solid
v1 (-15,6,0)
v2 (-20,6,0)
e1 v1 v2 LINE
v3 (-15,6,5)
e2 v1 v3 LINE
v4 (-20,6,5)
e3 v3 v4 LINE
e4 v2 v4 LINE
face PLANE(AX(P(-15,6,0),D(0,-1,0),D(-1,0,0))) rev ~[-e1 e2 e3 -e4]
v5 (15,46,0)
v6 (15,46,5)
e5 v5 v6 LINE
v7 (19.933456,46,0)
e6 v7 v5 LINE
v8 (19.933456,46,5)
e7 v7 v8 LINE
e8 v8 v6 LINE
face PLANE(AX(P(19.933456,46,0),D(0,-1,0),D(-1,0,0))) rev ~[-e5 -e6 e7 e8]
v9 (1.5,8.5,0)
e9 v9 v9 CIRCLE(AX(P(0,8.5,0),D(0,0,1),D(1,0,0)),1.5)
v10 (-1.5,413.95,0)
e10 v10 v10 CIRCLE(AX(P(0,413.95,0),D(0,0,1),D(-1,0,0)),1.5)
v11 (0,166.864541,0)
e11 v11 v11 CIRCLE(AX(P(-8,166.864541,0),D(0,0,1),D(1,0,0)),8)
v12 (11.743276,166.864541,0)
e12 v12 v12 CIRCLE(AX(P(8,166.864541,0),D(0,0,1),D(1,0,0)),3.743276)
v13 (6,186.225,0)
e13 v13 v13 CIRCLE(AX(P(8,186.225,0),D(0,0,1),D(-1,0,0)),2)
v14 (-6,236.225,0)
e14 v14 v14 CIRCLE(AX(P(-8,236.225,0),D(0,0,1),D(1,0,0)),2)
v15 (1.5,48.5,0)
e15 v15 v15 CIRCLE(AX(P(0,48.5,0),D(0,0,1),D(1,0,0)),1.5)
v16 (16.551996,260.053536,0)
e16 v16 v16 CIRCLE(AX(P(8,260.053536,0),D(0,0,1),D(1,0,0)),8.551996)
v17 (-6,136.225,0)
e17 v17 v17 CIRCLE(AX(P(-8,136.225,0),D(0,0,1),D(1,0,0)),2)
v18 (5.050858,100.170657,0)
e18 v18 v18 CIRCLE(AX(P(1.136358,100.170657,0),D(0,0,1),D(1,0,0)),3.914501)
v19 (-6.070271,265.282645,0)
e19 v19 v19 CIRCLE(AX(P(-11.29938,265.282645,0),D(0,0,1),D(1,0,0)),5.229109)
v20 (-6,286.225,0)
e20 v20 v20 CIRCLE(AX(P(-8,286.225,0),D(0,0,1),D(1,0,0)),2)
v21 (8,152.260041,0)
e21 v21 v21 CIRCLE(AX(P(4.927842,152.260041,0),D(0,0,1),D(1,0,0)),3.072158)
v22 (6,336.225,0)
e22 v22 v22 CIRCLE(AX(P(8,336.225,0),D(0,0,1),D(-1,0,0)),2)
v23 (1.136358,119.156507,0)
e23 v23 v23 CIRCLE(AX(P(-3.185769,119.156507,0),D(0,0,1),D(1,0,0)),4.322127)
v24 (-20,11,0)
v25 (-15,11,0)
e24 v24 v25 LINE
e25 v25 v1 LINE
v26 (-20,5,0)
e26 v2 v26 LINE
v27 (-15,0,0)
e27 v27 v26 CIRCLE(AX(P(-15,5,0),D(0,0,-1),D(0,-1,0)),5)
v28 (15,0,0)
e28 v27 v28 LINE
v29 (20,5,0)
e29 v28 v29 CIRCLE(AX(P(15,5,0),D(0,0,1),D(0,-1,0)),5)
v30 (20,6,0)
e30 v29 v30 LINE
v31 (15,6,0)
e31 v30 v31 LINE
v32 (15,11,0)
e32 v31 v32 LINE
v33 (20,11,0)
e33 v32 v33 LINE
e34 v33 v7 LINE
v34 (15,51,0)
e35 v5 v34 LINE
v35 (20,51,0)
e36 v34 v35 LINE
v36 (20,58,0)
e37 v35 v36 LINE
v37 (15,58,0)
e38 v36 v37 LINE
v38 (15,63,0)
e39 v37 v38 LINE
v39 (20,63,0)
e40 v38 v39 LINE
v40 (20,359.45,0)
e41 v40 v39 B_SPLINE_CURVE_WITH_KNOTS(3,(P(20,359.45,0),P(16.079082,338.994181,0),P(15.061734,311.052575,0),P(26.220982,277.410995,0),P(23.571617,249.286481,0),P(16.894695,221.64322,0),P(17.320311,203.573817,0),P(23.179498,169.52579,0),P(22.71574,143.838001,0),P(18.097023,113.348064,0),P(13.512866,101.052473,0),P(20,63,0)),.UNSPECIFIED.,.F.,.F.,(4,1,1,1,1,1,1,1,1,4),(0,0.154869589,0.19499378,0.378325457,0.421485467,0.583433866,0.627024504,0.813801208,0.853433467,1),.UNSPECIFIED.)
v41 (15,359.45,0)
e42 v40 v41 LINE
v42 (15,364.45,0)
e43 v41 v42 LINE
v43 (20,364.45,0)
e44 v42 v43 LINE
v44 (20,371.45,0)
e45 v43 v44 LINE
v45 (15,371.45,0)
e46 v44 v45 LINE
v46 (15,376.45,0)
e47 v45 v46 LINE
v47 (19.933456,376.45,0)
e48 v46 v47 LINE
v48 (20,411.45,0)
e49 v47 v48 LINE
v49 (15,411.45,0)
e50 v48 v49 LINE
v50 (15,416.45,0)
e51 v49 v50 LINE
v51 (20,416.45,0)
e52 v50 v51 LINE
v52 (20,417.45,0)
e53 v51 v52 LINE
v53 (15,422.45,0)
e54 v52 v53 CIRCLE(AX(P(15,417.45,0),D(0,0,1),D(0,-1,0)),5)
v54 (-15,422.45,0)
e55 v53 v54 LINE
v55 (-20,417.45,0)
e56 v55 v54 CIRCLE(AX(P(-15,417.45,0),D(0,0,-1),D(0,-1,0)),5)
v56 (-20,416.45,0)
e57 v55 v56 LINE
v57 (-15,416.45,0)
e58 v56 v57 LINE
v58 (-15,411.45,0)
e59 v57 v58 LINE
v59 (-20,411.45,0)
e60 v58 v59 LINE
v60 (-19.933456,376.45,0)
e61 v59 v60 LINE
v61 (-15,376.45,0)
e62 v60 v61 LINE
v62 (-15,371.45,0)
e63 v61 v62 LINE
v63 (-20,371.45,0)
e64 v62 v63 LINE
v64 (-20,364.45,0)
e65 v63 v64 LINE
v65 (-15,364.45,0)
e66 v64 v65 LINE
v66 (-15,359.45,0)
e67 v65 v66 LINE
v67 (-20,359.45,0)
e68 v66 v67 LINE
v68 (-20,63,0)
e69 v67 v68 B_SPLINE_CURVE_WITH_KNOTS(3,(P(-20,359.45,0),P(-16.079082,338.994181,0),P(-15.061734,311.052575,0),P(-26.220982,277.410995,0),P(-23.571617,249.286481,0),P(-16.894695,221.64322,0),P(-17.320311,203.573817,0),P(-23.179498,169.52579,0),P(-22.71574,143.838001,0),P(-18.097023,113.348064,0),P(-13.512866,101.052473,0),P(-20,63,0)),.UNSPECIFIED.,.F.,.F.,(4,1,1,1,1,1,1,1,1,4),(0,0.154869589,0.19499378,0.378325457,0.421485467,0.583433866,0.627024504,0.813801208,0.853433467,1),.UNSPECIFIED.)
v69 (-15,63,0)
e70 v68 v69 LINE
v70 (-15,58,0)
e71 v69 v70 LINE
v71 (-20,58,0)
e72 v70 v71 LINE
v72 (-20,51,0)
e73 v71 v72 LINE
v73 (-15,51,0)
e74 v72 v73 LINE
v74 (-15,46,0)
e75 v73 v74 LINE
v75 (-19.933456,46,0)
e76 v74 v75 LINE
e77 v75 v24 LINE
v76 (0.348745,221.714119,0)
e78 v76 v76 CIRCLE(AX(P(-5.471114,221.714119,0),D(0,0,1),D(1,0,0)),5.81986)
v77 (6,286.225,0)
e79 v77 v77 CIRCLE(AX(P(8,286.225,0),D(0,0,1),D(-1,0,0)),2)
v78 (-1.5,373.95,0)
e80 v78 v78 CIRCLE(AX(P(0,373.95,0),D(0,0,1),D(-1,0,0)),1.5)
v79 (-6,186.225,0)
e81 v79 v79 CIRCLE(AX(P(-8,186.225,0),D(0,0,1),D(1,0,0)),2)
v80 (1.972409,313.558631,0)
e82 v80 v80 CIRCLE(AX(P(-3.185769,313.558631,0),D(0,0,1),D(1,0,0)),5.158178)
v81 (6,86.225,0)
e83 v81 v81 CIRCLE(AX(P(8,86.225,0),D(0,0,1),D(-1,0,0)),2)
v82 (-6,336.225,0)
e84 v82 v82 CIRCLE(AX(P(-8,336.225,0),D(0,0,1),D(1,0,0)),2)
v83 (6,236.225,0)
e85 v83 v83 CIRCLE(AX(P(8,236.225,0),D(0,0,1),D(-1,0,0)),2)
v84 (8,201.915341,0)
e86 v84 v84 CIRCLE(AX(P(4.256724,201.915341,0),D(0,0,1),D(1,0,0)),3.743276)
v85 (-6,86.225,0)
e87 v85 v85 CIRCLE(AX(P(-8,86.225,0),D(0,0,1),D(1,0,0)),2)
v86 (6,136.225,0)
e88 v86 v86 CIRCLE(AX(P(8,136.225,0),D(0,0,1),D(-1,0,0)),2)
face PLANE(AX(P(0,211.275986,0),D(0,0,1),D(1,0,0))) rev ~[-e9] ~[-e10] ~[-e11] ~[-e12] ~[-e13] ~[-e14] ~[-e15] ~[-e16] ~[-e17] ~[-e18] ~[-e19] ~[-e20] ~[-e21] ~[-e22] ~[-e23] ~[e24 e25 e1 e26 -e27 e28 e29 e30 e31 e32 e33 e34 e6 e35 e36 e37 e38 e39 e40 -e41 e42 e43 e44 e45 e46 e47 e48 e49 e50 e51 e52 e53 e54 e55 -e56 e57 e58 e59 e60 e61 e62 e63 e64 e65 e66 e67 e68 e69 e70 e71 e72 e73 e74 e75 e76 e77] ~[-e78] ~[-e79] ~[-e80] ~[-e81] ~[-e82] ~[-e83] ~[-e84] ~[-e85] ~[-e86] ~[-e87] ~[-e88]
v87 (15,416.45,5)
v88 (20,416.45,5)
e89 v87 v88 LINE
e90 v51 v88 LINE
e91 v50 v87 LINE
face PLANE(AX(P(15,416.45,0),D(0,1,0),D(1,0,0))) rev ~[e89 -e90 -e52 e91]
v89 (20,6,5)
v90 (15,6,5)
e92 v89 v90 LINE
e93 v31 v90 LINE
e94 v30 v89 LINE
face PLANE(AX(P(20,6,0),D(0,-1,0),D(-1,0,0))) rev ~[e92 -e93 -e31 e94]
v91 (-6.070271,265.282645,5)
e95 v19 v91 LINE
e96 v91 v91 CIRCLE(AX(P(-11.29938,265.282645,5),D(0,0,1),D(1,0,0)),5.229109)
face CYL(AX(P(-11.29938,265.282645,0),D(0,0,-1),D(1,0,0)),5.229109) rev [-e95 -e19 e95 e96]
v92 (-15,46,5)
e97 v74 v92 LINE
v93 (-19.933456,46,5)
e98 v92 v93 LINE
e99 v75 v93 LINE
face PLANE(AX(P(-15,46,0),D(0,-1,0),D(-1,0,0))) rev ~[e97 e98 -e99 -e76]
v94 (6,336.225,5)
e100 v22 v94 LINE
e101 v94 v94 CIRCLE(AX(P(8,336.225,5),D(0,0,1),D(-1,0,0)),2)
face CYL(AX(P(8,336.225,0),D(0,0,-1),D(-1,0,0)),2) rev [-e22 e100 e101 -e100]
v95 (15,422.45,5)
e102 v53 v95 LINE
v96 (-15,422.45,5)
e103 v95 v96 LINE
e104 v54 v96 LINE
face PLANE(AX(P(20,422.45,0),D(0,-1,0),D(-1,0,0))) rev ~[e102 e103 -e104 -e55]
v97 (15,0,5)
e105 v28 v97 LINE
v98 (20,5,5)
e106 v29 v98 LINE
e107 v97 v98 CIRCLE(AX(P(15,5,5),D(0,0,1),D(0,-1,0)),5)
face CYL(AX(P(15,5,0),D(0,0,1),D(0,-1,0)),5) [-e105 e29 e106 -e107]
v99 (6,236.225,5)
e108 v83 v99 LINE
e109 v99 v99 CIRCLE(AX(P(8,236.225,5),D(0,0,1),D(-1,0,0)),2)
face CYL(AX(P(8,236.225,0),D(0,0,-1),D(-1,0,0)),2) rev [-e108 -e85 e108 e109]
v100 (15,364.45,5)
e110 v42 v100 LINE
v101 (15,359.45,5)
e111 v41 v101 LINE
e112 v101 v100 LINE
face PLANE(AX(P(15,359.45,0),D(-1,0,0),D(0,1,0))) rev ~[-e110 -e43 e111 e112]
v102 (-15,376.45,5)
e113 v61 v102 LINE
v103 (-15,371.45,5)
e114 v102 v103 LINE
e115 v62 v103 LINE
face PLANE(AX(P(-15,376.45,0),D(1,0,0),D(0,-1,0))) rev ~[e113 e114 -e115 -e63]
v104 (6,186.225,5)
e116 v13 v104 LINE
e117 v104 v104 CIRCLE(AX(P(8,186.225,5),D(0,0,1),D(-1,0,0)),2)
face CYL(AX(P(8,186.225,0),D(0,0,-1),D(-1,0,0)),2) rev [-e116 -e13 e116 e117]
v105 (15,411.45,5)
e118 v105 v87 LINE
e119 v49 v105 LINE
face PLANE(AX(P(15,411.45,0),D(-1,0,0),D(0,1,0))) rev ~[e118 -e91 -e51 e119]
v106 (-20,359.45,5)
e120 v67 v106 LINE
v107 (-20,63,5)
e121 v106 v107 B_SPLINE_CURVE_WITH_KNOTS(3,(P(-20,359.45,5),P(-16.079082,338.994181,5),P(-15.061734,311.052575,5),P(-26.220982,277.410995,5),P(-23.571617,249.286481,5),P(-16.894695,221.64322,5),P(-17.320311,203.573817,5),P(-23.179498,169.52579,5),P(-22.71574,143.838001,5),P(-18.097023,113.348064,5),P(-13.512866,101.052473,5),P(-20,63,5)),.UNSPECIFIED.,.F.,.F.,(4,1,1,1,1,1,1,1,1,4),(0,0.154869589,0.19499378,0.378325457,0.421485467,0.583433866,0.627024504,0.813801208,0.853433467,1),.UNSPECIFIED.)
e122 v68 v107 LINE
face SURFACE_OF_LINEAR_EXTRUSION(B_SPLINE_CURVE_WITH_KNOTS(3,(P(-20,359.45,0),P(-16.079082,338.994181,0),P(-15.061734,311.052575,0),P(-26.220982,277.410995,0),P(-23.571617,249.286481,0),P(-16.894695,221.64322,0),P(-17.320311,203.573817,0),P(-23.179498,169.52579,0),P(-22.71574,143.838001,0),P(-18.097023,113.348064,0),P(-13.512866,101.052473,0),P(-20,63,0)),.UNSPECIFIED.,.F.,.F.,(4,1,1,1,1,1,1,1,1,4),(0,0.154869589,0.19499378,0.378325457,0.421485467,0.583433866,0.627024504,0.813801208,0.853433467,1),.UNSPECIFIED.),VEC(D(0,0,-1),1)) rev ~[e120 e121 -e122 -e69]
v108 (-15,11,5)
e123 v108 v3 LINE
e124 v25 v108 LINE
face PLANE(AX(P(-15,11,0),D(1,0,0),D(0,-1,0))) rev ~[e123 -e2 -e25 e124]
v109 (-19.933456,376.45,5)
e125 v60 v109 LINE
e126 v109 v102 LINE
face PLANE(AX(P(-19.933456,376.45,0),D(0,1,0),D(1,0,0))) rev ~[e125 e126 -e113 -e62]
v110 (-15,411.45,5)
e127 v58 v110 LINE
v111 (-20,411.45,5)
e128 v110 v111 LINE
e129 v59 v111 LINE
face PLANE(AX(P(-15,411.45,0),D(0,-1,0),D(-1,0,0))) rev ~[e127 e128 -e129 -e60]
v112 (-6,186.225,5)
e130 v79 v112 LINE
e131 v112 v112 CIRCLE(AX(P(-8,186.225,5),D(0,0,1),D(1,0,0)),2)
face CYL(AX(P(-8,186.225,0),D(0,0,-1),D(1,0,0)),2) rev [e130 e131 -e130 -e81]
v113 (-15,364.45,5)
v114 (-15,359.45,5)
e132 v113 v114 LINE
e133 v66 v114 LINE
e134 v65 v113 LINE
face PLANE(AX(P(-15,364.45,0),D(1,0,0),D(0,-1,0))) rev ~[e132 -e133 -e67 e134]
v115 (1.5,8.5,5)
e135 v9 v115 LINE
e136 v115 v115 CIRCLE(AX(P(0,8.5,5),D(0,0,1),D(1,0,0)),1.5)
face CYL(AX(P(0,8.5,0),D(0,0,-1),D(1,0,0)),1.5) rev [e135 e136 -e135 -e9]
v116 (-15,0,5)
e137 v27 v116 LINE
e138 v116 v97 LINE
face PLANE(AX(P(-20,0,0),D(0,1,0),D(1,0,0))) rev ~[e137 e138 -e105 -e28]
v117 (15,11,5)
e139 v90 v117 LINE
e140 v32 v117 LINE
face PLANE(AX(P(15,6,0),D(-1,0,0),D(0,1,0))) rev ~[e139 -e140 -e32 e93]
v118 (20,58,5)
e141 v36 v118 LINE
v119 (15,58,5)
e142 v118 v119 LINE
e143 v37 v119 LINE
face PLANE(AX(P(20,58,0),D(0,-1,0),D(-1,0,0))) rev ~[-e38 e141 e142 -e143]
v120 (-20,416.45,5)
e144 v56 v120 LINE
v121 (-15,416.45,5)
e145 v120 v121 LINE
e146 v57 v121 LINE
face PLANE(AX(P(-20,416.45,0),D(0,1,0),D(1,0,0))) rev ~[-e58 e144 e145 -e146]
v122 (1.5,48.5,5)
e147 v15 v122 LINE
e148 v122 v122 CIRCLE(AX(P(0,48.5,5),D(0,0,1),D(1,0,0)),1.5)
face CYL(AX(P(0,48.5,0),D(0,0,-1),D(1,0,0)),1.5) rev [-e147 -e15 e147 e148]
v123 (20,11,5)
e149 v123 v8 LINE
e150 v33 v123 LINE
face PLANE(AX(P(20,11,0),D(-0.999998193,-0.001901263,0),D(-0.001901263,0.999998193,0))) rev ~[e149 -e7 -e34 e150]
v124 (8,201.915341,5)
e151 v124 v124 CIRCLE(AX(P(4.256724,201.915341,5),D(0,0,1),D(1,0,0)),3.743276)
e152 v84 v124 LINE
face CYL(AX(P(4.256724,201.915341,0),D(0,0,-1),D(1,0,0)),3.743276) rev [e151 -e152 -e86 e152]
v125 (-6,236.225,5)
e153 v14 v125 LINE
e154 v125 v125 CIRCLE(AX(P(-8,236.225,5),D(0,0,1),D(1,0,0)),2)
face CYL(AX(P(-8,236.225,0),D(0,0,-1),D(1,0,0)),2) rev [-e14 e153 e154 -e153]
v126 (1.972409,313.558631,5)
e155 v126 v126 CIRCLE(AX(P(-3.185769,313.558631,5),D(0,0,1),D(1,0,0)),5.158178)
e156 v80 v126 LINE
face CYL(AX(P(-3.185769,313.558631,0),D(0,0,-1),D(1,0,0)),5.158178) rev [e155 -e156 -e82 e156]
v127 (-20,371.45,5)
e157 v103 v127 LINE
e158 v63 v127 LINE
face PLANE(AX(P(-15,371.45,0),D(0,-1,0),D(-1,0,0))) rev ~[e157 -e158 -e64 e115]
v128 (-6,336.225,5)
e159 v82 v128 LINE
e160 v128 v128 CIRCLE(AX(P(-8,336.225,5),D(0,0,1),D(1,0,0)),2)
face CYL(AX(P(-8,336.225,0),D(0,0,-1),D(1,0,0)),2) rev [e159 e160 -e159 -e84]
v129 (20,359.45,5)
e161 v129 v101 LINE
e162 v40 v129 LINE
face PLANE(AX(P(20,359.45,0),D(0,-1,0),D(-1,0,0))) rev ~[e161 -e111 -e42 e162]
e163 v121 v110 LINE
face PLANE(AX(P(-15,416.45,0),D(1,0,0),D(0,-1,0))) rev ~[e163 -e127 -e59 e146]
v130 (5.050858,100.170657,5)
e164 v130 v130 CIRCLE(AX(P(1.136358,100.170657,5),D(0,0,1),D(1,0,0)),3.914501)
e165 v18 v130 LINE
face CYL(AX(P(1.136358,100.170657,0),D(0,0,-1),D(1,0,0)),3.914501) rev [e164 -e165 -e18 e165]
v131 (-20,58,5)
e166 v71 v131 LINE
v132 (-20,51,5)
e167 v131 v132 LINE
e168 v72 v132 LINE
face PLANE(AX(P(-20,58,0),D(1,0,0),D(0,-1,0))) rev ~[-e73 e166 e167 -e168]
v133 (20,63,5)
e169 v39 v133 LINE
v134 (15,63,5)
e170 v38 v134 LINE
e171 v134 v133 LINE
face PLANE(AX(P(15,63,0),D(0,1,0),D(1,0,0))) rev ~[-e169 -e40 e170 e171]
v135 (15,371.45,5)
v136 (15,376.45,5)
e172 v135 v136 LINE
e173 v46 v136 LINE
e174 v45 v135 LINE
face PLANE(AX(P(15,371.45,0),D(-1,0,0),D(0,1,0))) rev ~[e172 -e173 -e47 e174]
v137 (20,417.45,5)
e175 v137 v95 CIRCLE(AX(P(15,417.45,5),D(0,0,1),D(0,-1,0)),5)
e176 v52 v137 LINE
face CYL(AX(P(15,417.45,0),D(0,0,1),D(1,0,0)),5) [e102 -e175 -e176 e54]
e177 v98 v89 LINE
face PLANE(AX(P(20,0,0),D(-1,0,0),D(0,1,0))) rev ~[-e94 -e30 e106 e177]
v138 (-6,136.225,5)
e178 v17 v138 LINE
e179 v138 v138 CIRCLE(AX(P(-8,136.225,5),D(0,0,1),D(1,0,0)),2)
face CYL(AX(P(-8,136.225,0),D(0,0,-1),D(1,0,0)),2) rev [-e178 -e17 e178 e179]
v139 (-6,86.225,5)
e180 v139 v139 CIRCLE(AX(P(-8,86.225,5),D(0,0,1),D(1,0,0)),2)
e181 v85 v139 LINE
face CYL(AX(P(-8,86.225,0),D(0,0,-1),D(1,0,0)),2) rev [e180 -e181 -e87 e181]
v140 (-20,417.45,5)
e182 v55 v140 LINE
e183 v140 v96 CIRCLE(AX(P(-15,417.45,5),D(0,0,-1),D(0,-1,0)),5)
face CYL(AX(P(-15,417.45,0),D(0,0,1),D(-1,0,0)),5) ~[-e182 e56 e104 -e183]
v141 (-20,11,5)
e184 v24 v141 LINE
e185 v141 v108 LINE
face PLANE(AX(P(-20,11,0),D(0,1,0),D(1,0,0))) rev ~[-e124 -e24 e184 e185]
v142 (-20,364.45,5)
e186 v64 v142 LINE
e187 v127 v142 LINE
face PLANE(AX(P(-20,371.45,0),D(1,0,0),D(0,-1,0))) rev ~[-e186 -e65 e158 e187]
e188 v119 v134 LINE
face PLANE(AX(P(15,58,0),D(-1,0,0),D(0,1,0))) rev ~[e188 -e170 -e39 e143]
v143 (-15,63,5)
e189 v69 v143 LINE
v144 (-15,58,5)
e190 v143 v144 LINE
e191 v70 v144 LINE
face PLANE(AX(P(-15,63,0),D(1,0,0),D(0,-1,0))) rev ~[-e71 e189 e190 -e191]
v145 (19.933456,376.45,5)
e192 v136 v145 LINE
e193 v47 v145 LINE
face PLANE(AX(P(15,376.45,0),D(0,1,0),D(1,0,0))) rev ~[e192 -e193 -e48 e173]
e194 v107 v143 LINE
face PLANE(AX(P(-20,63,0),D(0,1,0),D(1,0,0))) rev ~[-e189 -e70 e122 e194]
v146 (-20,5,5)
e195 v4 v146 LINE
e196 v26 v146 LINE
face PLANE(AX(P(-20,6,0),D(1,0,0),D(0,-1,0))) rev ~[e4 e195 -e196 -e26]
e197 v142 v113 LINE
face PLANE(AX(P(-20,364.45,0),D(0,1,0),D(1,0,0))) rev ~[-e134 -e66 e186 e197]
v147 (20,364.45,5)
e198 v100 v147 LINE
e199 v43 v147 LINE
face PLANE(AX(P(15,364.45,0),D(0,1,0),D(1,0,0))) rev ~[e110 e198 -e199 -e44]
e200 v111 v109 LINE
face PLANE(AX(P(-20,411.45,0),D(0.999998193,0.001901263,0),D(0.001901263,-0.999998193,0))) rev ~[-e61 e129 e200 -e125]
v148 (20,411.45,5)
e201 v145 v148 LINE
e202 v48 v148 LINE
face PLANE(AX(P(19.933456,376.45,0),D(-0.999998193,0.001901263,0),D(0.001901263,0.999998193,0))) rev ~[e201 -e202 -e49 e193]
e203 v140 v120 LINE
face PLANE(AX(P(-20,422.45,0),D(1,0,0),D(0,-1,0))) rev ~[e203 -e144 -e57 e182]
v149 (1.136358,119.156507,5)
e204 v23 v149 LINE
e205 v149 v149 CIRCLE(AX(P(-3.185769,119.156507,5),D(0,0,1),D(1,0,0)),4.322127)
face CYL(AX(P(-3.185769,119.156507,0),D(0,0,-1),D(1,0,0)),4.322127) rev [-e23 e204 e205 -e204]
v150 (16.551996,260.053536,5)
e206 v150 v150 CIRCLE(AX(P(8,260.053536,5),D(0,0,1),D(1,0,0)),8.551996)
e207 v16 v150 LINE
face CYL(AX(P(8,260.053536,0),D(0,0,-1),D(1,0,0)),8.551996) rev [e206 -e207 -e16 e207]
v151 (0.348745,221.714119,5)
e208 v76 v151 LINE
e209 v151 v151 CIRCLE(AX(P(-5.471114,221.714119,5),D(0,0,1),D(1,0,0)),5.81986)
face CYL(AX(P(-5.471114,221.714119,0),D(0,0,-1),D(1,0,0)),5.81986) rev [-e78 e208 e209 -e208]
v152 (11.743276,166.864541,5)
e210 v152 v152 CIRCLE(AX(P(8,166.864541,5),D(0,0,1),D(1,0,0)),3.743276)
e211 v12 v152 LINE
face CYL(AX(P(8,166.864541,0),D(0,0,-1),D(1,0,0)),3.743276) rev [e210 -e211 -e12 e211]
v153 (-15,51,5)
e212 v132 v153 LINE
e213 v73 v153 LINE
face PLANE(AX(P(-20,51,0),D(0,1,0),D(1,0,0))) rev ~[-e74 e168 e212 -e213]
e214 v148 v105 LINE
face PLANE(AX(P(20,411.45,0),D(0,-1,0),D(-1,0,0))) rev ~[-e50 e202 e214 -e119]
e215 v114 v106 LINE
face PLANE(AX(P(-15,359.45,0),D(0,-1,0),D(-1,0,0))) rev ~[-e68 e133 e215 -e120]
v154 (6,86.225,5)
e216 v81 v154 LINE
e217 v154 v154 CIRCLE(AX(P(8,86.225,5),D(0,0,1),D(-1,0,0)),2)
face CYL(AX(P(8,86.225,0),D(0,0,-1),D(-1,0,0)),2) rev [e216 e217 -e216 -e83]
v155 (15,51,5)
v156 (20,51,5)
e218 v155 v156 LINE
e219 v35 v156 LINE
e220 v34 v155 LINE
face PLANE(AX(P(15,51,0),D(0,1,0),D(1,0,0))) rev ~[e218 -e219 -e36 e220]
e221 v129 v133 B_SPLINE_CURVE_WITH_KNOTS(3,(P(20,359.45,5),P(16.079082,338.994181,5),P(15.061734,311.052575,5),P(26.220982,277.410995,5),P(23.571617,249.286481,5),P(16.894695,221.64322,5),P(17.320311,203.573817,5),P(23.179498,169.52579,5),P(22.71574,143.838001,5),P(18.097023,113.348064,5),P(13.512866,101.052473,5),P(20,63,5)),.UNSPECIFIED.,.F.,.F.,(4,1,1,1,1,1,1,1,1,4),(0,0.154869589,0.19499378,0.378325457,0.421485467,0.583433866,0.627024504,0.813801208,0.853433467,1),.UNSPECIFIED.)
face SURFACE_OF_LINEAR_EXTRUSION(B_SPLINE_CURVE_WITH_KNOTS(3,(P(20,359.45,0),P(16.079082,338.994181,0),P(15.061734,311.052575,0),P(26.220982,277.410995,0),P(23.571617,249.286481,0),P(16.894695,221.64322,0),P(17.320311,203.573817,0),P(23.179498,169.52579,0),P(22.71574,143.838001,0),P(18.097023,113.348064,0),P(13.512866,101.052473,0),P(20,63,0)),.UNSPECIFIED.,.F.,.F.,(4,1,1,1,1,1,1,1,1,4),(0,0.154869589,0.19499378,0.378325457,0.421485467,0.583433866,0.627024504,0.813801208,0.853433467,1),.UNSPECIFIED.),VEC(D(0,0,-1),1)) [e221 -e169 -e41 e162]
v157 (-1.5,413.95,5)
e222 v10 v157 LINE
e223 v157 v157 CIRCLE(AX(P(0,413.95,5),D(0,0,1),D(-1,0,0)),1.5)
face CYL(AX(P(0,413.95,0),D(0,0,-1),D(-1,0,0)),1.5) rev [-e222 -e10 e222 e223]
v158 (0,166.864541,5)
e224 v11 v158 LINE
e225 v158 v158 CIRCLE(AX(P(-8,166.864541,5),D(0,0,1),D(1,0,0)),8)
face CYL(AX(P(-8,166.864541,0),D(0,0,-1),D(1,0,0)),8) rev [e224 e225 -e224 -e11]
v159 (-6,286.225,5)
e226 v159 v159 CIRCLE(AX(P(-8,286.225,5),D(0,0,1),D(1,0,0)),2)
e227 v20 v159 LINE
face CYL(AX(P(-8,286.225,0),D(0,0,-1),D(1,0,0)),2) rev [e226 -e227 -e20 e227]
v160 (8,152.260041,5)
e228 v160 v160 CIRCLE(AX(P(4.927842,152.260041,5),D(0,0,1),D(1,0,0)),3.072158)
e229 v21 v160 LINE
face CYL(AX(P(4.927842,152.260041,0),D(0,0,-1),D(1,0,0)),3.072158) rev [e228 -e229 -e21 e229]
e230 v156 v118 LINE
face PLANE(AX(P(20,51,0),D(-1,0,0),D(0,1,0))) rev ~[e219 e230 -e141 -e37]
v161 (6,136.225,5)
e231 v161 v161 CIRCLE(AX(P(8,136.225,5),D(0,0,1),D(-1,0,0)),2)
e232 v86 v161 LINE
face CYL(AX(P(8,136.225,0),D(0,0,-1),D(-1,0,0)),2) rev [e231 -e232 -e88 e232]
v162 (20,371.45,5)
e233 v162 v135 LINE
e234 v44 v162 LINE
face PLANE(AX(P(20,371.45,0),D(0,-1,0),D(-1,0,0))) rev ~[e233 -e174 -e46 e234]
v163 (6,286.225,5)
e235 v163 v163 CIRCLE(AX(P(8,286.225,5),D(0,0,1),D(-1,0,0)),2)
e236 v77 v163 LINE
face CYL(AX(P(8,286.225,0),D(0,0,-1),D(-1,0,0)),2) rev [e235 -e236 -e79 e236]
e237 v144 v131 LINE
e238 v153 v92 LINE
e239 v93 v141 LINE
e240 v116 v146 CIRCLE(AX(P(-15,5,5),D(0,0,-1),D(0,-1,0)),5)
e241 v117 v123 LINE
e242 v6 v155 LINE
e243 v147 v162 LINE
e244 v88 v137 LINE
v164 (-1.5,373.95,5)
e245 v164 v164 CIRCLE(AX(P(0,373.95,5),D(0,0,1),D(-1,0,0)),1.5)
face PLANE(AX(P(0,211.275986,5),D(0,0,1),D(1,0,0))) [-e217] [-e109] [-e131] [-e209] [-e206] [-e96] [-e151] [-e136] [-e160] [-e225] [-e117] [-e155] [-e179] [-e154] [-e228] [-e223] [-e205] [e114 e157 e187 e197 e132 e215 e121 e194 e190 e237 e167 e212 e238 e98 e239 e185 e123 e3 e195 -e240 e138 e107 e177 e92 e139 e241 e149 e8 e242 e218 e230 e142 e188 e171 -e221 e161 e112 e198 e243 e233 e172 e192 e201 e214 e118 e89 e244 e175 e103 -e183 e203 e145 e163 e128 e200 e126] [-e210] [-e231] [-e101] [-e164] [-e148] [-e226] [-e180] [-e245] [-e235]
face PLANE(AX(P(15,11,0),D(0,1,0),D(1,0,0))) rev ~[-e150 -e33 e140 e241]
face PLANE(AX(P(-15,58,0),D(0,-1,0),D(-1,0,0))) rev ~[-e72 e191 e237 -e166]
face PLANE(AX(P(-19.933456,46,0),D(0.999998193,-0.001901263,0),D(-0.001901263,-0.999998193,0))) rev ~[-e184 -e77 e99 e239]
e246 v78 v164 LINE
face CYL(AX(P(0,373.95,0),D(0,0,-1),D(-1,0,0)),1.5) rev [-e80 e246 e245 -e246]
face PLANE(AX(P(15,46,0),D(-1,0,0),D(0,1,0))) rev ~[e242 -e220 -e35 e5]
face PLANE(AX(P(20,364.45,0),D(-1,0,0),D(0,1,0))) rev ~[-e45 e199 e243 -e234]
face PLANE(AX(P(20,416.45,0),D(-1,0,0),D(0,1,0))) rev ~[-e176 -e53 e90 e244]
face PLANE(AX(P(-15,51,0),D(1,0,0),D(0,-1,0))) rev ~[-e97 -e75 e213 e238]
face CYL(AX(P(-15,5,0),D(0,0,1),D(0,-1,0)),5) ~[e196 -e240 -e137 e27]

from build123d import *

# Parameters (mm, degrees)
ESQUISSE1_R        = 1.5
ESQUISSE1_R_2      = 2
ESQUISSE1_R_3      = 5.229109031
ESQUISSE1_R_4      = 8.551995964
ESQUISSE1_R_5      = 5.158177567
ESQUISSE1_R_6      = 8
ESQUISSE1_R_7      = 3.072157836
ESQUISSE1_R_8      = 3.743275554
ESQUISSE1_R_9      = 4.322126927
ESQUISSE1_R_10     = 3.914500571
ESQUISSE1_R_11     = 5.819859564
BOSS_EXTRU_1_DEPTH = 5
CONG_1_R           = 5


with BuildPart() as part:
    # Esquisse1 → Boss.-Extru.1 (new body)
    with BuildSketch(Plane.XY):
        with BuildLine():
            Line((-20, 0), (20, 0))
            Line((20, 0), (20, 6))
            Line((20, 6), (15, 6))
            Line((15, 6), (15, 11))
            Line((15, 11), (20, 11))
            Line((20, 11), (19.933455672, 46))
            Line((19.933455672, 46), (15, 46))
            Line((15, 46), (15, 51))
            Line((15, 51), (20, 51))
            Line((20, 51), (20, 58))
            Line((20, 58), (15, 58))
            Line((15, 58), (15, 63))
            Line((15, 63), (20, 63))
            add(Edge.make_bspline(
                [(20, 359.45), (16.079082377, 338.994180612), (15.061734436, 311.052574653), (26.220981942, 277.41099536), (23.571616688, 249.286480825), (16.894695055, 221.643219809), (17.320311392, 203.573817226), (23.179497877, 169.525790044), (22.715740478, 143.838000901), (18.09702301, 113.34806448), (13.512866268, 101.05247313), (20, 63)],
                knots=[0, 0, 0, 0, 0.154869589, 0.19499378, 0.378325457, 0.421485467, 0.583433866, 0.627024504, 0.813801208, 0.853433467, 1, 1, 1, 1], degree=3))
            Line((20, 359.45), (15, 359.45))
            Line((15, 359.45), (15, 364.45))
            Line((15, 364.45), (20, 364.45))
            Line((20, 364.45), (20, 371.45))
            Line((20, 371.45), (15, 371.45))
            Line((15, 371.45), (15, 376.45))
            Line((15, 376.45), (19.933455672, 376.45))
            Line((19.933455672, 376.45), (20, 411.45))
            Line((20, 411.45), (15, 411.45))
            Line((15, 411.45), (15, 416.45))
            Line((15, 416.45), (20, 416.45))
            Line((20, 416.45), (20, 422.45))
            Line((20, 422.45), (-20, 422.45))
            Line((-20, 422.45), (-20, 416.45))
            Line((-20, 416.45), (-15, 416.45))
            Line((-15, 416.45), (-15, 411.45))
            Line((-15, 411.45), (-20, 411.45))
            Line((-20, 411.45), (-19.933455672, 376.45))
            Line((-19.933455672, 376.45), (-15, 376.45))
            Line((-15, 376.45), (-15, 371.45))
            Line((-15, 371.45), (-20, 371.45))
            Line((-20, 371.45), (-20, 364.45))
            Line((-20, 364.45), (-15, 364.45))
            Line((-15, 364.45), (-15, 359.45))
            Line((-15, 359.45), (-20, 359.45))
            add(Edge.make_bspline(
                [(-20, 359.45), (-16.079082377, 338.994180612), (-15.061734436, 311.052574653), (-26.220981942, 277.41099536), (-23.571616688, 249.286480825), (-16.894695055, 221.643219809), (-17.320311392, 203.573817226), (-23.179497877, 169.525790044), (-22.715740478, 143.838000901), (-18.09702301, 113.34806448), (-13.512866268, 101.05247313), (-20, 63)],
                knots=[0, 0, 0, 0, 0.154869589, 0.19499378, 0.378325457, 0.421485467, 0.583433866, 0.627024504, 0.813801208, 0.853433467, 1, 1, 1, 1], degree=3))
            Line((-20, 63), (-15, 63))
            Line((-15, 63), (-15, 58))
            Line((-15, 58), (-20, 58))
            Line((-20, 58), (-20, 51))
            Line((-20, 51), (-15, 51))
            Line((-15, 51), (-15, 46))
            Line((-15, 46), (-19.933455672, 46))
            Line((-19.933455672, 46), (-20, 11))
            Line((-20, 11), (-15, 11))
            Line((-15, 11), (-15, 6))
            Line((-15, 6), (-20, 6))
            Line((-20, 6), (-20, 0))
        make_face()
        with Locations((0, 48.5)):
            Circle(ESQUISSE1_R, mode=Mode.SUBTRACT)
        with Locations((0, 8.5)):
            Circle(ESQUISSE1_R, mode=Mode.SUBTRACT)
        with Locations(Location((0, 413.95, 0), (0, 0, 180))):
            Circle(ESQUISSE1_R, mode=Mode.SUBTRACT)
        with Locations(Location((0, 373.95, 0), (0, 0, 180))):
            Circle(ESQUISSE1_R, mode=Mode.SUBTRACT)
        with Locations((-8, 336.225)):
            Circle(ESQUISSE1_R_2, mode=Mode.SUBTRACT)
        with Locations(Location((8, 336.225, 0), (0, 0, 180))):
            Circle(ESQUISSE1_R_2, mode=Mode.SUBTRACT)
        with Locations(Location((8, 286.225, 0), (0, 0, 180))):
            Circle(ESQUISSE1_R_2, mode=Mode.SUBTRACT)
        with Locations((-8, 286.225)):
            Circle(ESQUISSE1_R_2, mode=Mode.SUBTRACT)
        with Locations(Location((8, 236.225, 0), (0, 0, 180))):
            Circle(ESQUISSE1_R_2, mode=Mode.SUBTRACT)
        with Locations((-8, 236.225)):
            Circle(ESQUISSE1_R_2, mode=Mode.SUBTRACT)
        with Locations(Location((8, 186.225, 0), (0, 0, 180))):
            Circle(ESQUISSE1_R_2, mode=Mode.SUBTRACT)
        with Locations((-8, 186.225)):
            Circle(ESQUISSE1_R_2, mode=Mode.SUBTRACT)
        with Locations(Location((8, 136.225, 0), (0, 0, 180))):
            Circle(ESQUISSE1_R_2, mode=Mode.SUBTRACT)
        with Locations((-8, 136.225)):
            Circle(ESQUISSE1_R_2, mode=Mode.SUBTRACT)
        with Locations(Location((8, 86.225, 0), (0, 0, 180))):
            Circle(ESQUISSE1_R_2, mode=Mode.SUBTRACT)
        with Locations((-8, 86.225)):
            Circle(ESQUISSE1_R_2, mode=Mode.SUBTRACT)
        with Locations((-11.299380195, 265.282644745)):
            Circle(ESQUISSE1_R_3, mode=Mode.SUBTRACT)
        with Locations((8, 260.053535714)):
            Circle(ESQUISSE1_R_4, mode=Mode.SUBTRACT)
        with Locations((-3.185769016, 313.558631262)):
            Circle(ESQUISSE1_R_5, mode=Mode.SUBTRACT)
        with Locations((-8, 166.864541141)):
            Circle(ESQUISSE1_R_6, mode=Mode.SUBTRACT)
        with Locations((4.927842164, 152.260041018)):
            Circle(ESQUISSE1_R_7, mode=Mode.SUBTRACT)
        with Locations((8, 166.864541141)):
            Circle(ESQUISSE1_R_8, mode=Mode.SUBTRACT)
        with Locations((-3.185769016, 119.156507407)):
            Circle(ESQUISSE1_R_9, mode=Mode.SUBTRACT)
        with Locations((1.136357912, 100.170657248)):
            Circle(ESQUISSE1_R_10, mode=Mode.SUBTRACT)
        with Locations((4.256724446, 201.915341435)):
            Circle(ESQUISSE1_R_8, mode=Mode.SUBTRACT)
        with Locations((-5.471114106, 221.7141193)):
            Circle(ESQUISSE1_R_11, mode=Mode.SUBTRACT)
    extrude(amount=BOSS_EXTRU_1_DEPTH)

    # Congé1
    cong_1_edges = [part.edges().sort_by_distance(p)[0] for p in [
        (-20, 422.45, 2.5),
        (20, 422.45, 2.5),
        (20, 0, 2.5),
        (-20, 0, 2.5),
    ]]
    fillet(cong_1_edges, radius=CONG_1_R)


solid = part.part
